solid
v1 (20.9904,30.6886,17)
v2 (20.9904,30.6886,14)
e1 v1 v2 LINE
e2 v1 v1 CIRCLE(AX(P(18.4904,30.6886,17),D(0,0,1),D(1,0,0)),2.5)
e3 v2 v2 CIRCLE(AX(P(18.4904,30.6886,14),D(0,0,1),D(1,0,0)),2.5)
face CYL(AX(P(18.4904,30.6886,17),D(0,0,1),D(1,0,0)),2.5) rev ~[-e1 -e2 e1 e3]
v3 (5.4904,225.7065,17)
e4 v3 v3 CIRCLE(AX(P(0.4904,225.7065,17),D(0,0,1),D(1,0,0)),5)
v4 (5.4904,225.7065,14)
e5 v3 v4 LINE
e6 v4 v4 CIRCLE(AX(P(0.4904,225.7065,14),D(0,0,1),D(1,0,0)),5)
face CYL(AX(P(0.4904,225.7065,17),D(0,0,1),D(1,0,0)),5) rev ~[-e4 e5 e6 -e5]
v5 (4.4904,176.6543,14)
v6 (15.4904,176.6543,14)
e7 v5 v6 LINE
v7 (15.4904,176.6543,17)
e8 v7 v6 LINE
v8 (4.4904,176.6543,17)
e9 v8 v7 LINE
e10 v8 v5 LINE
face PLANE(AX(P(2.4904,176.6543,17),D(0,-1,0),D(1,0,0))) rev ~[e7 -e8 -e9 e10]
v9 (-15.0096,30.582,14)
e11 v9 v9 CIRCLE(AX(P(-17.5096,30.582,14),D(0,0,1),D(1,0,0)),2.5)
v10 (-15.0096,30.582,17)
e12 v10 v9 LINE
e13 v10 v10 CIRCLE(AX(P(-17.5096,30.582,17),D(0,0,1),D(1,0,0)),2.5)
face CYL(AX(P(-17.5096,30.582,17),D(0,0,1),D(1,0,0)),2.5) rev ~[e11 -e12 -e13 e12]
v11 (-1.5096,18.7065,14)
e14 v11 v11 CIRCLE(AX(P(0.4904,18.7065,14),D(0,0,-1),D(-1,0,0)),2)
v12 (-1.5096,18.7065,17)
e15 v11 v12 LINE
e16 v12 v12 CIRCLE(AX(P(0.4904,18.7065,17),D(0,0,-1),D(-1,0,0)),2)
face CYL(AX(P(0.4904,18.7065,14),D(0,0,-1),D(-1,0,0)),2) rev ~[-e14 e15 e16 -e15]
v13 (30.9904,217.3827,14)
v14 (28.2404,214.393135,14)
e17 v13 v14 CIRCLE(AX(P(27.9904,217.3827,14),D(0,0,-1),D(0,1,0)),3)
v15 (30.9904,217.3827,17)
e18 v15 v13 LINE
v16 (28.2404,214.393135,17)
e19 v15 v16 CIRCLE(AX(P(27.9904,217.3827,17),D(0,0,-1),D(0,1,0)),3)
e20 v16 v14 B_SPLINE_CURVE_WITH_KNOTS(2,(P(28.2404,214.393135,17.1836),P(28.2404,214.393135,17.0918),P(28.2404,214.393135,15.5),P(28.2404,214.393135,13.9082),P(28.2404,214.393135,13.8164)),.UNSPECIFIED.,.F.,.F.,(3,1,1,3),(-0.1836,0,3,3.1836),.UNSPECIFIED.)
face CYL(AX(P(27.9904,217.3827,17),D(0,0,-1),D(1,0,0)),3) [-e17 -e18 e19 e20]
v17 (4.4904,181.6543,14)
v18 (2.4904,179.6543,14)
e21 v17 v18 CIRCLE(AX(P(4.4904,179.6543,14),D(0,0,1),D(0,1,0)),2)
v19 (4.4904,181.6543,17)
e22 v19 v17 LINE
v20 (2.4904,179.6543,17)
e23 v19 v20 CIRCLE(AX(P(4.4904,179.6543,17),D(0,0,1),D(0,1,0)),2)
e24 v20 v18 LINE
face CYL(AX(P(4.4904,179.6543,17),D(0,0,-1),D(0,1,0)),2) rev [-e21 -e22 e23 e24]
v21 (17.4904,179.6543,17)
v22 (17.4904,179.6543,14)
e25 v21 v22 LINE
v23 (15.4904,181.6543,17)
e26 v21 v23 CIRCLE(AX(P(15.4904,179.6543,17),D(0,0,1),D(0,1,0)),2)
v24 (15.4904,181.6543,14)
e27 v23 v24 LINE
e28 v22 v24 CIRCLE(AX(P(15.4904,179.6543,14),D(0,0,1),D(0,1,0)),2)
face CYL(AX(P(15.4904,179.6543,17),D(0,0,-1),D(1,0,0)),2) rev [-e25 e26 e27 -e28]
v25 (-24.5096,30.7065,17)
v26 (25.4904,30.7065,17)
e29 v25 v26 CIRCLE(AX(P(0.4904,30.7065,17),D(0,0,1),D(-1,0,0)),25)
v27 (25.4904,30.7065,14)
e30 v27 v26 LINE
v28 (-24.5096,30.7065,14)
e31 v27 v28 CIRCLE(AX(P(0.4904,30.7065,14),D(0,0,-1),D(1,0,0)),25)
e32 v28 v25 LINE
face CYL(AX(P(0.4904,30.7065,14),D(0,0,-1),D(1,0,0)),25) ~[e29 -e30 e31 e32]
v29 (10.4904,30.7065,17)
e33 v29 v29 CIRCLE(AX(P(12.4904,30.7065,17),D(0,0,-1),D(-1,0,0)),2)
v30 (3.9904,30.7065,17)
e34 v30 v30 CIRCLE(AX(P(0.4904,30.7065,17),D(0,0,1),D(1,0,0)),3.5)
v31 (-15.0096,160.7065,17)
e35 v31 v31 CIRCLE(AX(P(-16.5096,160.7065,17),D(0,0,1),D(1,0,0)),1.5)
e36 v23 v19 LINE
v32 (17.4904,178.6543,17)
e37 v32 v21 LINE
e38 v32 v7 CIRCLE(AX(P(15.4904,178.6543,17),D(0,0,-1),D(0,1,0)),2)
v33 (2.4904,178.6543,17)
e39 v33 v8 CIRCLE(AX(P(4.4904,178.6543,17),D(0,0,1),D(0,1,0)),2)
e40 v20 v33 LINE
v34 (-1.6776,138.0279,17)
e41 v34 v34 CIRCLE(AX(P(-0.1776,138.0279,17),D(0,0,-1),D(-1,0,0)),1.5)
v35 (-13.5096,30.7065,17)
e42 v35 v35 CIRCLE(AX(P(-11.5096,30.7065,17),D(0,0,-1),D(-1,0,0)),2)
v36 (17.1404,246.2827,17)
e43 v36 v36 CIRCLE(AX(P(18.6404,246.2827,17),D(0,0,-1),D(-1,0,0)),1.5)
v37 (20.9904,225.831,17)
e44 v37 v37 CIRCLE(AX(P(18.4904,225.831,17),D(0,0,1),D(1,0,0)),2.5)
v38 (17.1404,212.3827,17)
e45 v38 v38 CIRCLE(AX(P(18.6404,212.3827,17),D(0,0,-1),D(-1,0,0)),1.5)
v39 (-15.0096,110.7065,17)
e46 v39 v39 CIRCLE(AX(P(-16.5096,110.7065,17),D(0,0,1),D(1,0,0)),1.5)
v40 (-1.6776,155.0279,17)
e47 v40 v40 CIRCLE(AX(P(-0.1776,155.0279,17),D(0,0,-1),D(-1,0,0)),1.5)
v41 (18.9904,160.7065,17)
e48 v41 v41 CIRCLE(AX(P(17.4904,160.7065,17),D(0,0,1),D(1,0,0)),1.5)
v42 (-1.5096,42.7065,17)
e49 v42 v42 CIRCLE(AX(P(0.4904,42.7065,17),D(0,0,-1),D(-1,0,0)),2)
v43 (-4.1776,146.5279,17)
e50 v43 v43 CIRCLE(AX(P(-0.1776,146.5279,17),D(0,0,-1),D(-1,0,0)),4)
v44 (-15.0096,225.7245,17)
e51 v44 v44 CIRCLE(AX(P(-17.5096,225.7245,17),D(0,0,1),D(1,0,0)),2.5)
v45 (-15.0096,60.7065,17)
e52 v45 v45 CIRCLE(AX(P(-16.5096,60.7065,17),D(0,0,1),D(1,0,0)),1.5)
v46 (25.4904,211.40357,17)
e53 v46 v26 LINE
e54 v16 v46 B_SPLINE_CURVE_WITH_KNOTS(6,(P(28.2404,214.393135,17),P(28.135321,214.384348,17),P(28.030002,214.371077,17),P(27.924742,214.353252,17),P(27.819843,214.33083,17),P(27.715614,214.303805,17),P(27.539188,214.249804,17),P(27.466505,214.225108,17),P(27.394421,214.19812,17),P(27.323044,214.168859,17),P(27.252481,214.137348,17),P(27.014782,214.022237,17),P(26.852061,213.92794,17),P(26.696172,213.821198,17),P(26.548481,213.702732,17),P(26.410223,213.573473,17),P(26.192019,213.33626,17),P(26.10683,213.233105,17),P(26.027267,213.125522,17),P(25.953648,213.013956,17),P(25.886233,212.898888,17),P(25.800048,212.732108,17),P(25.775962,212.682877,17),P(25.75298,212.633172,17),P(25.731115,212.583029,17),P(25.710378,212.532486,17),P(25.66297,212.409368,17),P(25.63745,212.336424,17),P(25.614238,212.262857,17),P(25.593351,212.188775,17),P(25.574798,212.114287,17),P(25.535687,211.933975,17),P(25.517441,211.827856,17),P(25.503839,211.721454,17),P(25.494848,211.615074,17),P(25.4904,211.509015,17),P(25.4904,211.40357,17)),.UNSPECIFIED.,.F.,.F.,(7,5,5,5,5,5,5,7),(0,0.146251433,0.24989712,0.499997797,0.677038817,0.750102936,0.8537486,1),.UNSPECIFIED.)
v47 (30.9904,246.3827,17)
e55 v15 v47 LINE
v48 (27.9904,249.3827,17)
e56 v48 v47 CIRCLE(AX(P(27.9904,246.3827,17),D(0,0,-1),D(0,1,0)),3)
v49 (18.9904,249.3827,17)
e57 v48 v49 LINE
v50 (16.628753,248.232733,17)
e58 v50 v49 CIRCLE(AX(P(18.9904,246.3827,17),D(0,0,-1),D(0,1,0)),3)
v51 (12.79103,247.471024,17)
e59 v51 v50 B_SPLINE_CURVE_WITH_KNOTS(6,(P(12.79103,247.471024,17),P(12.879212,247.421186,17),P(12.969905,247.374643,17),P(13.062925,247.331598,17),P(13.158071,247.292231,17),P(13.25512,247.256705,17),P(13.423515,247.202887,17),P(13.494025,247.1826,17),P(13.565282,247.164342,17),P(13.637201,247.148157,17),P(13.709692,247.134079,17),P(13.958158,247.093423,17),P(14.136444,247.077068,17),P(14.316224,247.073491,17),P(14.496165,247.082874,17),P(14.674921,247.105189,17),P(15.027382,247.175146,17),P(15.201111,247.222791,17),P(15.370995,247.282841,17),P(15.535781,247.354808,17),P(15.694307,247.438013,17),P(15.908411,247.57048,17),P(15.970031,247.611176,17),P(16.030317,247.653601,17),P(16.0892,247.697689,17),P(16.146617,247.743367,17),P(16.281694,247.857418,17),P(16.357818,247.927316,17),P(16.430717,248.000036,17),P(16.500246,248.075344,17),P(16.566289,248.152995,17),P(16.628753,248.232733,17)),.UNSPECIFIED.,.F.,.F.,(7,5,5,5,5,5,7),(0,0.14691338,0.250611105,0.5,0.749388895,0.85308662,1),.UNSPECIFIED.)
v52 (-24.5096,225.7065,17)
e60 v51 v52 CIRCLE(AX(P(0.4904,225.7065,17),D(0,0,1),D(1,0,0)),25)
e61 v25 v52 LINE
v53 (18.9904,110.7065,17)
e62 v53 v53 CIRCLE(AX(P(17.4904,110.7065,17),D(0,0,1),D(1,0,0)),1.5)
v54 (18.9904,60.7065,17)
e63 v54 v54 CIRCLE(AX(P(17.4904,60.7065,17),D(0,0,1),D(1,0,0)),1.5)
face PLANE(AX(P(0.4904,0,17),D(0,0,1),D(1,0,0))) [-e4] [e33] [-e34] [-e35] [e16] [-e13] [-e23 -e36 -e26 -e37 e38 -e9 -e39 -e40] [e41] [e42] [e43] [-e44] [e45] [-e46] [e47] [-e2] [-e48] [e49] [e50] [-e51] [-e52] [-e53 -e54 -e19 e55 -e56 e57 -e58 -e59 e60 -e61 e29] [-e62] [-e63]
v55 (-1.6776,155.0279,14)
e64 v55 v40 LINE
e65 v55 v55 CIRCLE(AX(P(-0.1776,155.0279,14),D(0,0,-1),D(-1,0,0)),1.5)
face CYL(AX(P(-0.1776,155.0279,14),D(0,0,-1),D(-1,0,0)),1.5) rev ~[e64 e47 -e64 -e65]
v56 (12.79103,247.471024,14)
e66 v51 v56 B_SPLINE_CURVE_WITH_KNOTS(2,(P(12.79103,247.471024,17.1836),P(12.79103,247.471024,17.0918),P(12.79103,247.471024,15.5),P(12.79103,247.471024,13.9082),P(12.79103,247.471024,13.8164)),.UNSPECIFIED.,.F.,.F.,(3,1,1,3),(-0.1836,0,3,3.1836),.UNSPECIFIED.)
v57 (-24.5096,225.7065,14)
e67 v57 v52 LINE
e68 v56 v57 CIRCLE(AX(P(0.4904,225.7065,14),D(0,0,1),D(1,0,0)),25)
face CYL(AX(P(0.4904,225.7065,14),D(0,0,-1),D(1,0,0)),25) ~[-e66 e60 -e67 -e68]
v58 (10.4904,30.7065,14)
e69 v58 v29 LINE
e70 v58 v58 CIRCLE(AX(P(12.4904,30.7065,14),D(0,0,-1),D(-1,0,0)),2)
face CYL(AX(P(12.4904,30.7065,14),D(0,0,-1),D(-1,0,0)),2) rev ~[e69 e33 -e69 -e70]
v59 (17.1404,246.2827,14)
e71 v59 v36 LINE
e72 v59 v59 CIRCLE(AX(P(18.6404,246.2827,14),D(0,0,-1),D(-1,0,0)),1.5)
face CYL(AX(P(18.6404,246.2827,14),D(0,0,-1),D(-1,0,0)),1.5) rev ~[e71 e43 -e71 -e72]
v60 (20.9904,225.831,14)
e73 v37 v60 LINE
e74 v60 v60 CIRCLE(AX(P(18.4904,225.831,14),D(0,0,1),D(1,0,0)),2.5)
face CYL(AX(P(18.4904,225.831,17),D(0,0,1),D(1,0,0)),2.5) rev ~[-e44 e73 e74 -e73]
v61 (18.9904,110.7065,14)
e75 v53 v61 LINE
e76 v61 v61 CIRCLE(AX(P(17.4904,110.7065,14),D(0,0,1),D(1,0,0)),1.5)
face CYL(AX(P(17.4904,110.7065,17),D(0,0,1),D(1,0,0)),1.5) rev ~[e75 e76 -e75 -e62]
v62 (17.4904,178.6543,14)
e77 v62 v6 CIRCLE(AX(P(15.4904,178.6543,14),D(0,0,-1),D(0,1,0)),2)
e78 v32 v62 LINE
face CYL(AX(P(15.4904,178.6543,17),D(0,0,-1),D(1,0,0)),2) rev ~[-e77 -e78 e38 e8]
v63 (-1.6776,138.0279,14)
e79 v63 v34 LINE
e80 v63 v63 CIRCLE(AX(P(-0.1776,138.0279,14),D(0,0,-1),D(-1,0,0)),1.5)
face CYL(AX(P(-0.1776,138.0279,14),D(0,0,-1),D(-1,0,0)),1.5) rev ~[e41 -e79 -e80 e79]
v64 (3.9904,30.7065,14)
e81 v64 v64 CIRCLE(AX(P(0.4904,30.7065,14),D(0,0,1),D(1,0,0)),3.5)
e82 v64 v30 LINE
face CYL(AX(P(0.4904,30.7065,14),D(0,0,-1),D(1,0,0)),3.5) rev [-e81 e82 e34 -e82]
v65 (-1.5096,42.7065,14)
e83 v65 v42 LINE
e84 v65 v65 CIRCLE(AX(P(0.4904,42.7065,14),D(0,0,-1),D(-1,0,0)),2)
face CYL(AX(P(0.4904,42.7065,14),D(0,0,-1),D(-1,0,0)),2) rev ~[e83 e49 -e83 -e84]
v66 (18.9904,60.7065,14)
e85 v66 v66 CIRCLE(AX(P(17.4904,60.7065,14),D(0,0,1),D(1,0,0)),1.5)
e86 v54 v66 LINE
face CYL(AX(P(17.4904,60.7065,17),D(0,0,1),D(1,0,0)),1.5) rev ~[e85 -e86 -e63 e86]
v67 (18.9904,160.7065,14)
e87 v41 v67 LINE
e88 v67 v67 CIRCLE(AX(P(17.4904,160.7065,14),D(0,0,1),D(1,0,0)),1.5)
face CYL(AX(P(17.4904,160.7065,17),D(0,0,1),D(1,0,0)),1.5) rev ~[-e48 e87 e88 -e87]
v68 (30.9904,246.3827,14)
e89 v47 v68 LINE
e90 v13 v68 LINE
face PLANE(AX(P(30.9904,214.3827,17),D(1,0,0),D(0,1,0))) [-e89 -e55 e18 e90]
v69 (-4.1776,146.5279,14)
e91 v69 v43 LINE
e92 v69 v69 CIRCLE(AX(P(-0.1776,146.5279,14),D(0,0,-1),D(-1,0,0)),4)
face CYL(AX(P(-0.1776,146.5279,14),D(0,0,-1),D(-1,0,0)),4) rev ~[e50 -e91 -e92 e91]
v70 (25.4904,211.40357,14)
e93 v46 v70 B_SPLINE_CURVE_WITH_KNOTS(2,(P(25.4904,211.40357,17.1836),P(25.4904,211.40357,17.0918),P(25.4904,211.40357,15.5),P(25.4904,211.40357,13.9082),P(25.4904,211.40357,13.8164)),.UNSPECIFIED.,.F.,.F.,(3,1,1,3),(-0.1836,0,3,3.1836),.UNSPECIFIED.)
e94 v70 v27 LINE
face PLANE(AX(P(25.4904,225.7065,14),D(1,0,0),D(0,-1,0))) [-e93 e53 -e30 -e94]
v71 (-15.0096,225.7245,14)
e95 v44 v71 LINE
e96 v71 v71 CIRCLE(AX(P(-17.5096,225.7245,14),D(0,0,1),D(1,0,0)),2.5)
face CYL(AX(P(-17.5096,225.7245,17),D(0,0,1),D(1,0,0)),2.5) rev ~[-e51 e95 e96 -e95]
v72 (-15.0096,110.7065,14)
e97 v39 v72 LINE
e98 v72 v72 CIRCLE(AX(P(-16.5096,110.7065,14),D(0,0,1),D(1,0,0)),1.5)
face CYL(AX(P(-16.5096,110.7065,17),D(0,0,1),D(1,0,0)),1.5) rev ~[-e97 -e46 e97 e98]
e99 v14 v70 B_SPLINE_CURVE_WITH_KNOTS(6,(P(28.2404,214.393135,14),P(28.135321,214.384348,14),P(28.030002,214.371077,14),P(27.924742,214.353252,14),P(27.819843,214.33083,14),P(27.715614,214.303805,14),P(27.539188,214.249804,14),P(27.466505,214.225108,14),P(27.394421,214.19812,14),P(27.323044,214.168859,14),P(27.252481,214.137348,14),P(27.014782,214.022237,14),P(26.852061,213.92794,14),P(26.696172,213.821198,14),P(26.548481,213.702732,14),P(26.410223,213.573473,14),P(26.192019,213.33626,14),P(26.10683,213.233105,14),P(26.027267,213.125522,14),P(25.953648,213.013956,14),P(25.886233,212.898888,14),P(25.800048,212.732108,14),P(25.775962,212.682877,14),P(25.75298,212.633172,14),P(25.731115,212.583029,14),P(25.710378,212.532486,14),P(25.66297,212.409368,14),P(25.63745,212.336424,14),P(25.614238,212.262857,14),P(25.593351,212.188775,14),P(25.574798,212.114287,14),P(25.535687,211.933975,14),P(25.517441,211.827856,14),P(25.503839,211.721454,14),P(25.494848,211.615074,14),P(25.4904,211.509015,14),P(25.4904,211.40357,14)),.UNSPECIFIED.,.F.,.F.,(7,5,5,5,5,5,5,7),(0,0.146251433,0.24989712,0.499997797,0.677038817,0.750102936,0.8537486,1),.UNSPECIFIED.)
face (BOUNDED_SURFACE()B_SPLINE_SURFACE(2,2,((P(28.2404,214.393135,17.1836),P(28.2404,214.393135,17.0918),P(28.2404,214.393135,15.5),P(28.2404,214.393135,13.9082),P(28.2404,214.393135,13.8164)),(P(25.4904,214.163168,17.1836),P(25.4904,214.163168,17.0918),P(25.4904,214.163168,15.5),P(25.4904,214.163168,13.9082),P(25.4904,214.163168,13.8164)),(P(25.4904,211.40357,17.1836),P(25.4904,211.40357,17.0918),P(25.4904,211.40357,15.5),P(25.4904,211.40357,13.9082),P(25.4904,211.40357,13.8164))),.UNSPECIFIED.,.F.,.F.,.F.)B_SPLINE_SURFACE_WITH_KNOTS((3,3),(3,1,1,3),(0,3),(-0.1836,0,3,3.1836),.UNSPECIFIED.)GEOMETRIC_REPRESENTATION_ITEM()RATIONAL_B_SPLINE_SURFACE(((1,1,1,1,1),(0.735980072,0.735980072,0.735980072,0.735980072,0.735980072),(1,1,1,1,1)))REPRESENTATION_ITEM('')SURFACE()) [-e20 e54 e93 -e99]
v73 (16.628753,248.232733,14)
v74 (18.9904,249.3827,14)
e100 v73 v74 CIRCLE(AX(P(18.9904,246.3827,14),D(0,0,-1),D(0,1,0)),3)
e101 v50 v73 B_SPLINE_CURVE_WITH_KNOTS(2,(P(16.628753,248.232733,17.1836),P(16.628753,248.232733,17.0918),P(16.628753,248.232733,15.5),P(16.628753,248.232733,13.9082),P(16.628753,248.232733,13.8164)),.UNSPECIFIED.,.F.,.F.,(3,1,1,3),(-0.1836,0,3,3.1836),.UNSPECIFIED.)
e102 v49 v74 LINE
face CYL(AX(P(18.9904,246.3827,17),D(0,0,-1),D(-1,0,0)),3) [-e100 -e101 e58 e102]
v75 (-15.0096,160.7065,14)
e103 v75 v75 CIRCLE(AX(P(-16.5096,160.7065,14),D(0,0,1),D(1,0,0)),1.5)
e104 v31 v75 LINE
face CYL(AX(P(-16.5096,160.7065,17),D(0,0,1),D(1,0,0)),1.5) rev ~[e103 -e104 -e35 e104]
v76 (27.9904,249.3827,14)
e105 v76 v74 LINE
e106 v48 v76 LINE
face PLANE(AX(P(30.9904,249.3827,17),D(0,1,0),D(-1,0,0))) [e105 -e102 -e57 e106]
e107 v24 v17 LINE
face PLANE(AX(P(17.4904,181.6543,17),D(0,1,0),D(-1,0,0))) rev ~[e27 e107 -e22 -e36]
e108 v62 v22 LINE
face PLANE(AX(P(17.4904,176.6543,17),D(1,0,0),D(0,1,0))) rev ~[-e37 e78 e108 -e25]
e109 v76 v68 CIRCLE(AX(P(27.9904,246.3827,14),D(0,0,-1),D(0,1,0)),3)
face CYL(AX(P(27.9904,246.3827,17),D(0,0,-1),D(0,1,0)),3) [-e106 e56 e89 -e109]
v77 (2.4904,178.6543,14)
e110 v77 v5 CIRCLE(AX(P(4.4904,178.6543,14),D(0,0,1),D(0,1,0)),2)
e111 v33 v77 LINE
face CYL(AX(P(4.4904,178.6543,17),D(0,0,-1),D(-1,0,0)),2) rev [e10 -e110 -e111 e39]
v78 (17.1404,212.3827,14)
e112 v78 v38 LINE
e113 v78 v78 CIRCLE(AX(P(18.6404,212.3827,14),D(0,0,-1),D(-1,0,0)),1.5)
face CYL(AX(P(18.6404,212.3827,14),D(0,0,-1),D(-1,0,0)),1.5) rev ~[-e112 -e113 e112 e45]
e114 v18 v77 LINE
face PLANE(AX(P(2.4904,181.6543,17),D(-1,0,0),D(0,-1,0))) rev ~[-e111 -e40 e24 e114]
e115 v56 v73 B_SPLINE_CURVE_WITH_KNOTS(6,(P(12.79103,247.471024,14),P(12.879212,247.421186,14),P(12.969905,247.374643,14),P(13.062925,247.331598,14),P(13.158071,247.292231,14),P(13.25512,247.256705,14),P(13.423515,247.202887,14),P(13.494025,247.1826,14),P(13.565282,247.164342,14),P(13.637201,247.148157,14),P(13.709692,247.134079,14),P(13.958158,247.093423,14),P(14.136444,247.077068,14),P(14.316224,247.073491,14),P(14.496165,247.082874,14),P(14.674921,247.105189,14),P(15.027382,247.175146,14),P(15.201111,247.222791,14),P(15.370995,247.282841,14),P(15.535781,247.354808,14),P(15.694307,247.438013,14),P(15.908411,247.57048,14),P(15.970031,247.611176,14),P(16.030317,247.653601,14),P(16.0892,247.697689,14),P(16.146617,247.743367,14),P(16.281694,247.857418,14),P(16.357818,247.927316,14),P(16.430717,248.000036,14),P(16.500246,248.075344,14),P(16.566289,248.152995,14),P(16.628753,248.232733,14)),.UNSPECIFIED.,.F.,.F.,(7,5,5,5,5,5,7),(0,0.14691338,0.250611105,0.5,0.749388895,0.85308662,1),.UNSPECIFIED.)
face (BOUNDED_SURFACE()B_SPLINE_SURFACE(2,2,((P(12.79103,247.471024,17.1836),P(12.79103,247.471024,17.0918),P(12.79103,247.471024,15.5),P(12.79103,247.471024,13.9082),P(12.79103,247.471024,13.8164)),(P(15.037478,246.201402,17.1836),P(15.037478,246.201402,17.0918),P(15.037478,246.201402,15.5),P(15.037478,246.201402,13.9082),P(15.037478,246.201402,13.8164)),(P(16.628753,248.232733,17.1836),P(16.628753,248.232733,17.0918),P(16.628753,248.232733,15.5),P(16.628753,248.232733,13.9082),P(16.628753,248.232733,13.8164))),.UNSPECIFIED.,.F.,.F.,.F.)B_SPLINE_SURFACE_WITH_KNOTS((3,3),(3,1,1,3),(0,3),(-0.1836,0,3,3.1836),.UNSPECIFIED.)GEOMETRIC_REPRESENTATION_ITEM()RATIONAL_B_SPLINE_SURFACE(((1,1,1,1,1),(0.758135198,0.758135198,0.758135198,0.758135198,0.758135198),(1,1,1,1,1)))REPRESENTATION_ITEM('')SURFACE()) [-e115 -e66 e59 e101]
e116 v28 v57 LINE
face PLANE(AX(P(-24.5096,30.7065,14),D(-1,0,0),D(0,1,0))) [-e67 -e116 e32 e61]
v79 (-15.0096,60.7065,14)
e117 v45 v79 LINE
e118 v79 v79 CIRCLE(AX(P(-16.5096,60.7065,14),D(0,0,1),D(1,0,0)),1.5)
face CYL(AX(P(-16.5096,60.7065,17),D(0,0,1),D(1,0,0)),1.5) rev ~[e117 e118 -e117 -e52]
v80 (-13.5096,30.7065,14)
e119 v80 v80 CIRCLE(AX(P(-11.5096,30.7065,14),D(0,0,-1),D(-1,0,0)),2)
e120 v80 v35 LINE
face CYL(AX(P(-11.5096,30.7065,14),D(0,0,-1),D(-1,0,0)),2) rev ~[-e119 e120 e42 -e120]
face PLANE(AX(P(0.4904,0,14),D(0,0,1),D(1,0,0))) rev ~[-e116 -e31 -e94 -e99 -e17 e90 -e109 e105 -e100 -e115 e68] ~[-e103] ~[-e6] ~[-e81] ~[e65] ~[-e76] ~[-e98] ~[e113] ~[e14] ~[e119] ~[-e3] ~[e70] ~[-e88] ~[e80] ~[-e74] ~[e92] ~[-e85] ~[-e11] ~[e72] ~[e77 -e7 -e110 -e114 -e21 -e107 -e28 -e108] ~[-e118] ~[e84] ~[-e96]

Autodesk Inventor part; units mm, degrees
ref_plane "YZ Plane" through (0, 0, 0) normal (1, 0, 0) x (0, 1, 0)
ref_plane "XZ Plane" through (0, 0, 0) normal (0, 1, 0) x (-1, 0, 0)
ref_plane "XY Plane" through (0, 0, 0) normal (0, 0, 1) x (1, 0, 0)
ref_plane "Work Plane2" through (0.4904, 0, 14) normal (0, 0, 1) x (1, 0, 0)
sketch "Sketch1" plane through (0.4904, 0, 14) normal (0, 0, 1) x (1, 0, 0)
  line L0 (-25, 225.7065) -> (25, 225.7065)
  line L1 (25, 225.7065) -> (25, 5.7065)
  line L2 (25, 5.7065) -> (-25, 5.7065)
  line L3 (-25, 5.7065) -> (-25, 225.7065)
  line L4 (-25, 225.7065) -> (25, 225.7065)
  line L5 (20, 5.7065) -> (-20, 5.7065)
  circle A0 centre (0, 30.7065) radius 3.5 projected
  circle A1 centre (0, 30.7065) radius 25
  circle A2 centre (0, 225.7065) radius 25
  line L6 (-25, 30.7065) -> (-25, 225.7065)
  line L7 (25, 225.7065) -> (25, 30.7065)
  point P0 (-0.4904, 0)
  dimension "d19" = 50
  dimension "d6" = 220
  dimension "d7" = 0
  dimension "d9" = 50
  dimension "d10" = 25
  dimension "d11" = 25
  dimension "d12" = 25
  dimension "d13" = 0
extrude "Extrusion1" add sketch "Sketch1" along normal blind 3 contours A2 L0 | A2 L1 A1 L3 | L0 A2 | A1
sketch "Sketch2" plane through (0.4904, 0, 17) normal (0, 0, 1) x (1, 0, 0)
  arc A0 (25, 225.7065) -> (-25, 225.7065) centre (0, 225.7065) ccw projected
  circle A1 centre (0, 225.7065) radius 5
  point P0 (-0.4904, 0)
  dimension "d16" = 10
extrude "Extrusion2" cut sketch "Sketch2" against normal blind 3
sketch "Sketch4" plane through (0.4904, 0, 17) normal (0, 0, 1) x (1, 0, 0)
  arc A0 (20.4946, 25.2317) -> (20.5054, 36.1404) centre (18, 30.6886) ccw projected
  line L0 (20.5054, 36.1404) -> (10.4453, 40.7636) projected
  arc A1 (10.4252, 20.6286) -> (10.4453, 40.7636) centre (0, 30.7065) ccw projected
  line L1 (10.4252, 20.6286) -> (20.4946, 25.2317) projected
  circle A2 centre (18, 30.6886) radius 2.5 projected
  arc A3 (-20.5376, 36.019) -> (-20.4622, 25.1105) centre (-18, 30.582) ccw projected
  line L2 (-20.4622, 25.1105) -> (-11.0226, 20.8627) projected
  arc A4 (-11.1577, 40.3969) -> (-11.0226, 20.8627) centre (0, 30.7065) ccw projected
  line L3 (-11.1577, 40.3969) -> (-20.5376, 36.019) projected
  circle A5 centre (-18, 30.582) radius 2.5 projected
  point P0 (-0.4904, 0)
extrude "Extrusion4" cut sketch "Sketch4" against normal blind 10 contours A2 | A5
sketch "Sketch6" plane through (0.4904, 0, 14) normal (0, 0, -1) x (-1, 0, 0)
  circle A0 centre (0, 42.7065) radius 2 projected
  circle A1 centre (-12, 30.7065) radius 2 projected
  circle A2 centre (0, 18.7065) radius 2 projected
  circle A3 centre (12, 30.7065) radius 2 projected
  point P0 (0.4904, 0)
extrude "Extrusion6" cut sketch "Sketch6" against normal blind 10
sketch "Sketch7" plane through (0.4904, 0, 14) normal (0, 0, -1) x (-1, 0, 0)
  circle A0 centre (-12, 30.7065) radius 2 projected
  circle A1 centre (0, 18.7065) radius 2 projected
  circle A2 centre (12, 30.7065) radius 2 projected
  circle A3 centre (0, 42.7065) radius 2 projected
  circle A4 centre (-18, 30.6886) radius 2.5 projected
  circle A5 centre (18, 30.582) radius 2.5 projected
  circle A6 centre (0, 225.7065) radius 5 projected
  line L0 (25, 225.7065) -> (25, 30.7065) projected
  line L1 (-25, 30.7065) -> (-25, 225.7065) projected
  arc A7 (-25, 30.7065) -> (25, 30.7065) centre (0, 30.7065) ccw projected
  circle A8 centre (0, 30.7065) radius 3.5 projected
  circle A9 centre (0.668, 146.5279) radius 12.5 projected
  circle A10 centre (9.168, 146.5279) radius 2.3813 projected
  circle A11 centre (-7.832, 146.5279) radius 2.3813 projected
  circle A12 centre (0.668, 155.0279) radius 1.5 projected
  circle A13 centre (0.668, 138.0279) radius 1.5 projected
  circle A14 centre (0.668, 146.5279) radius 4
  arc A15 (25, 225.7065) -> (-25, 225.7065) centre (0, 225.7065) ccw projected
  point P0 (0.4904, 0)
  dimension "d60" = 8
extrude "Extrusion7" cut sketch "Sketch7" against normal blind 10 contours A12 | A13 | A14
sketch "Sketch10" plane through (0.4904, 0, 17) normal (0, 0, 1) x (1, 0, 0)
  line L0 (17, 181.6543) -> (2, 181.6543)
  line L1 (2, 181.6543) -> (2, 176.6543)
  line L2 (2, 176.6543) -> (17, 176.6543)
  line L3 (17, 176.6543) -> (17, 181.6543)
  line L4 (25, 30.7065) -> (25, 225.7065) projected
  point P0 (-0.4904, 0)
  dimension "d67" = 15
  dimension "d68" = 5
  dimension "d69" = 8
extrude "Extrusion10" cut sketch "Sketch10" against normal blind 10
fillet "Fillet1" radius 2 4 edges at (17.4904, 176.6543, 15.5) (17.4904, 181.6543, 15.5) (2.4904, 181.6543, 15.5) (2.4904, 176.6543, 15.5)
sketch "Sketch11" plane through (0.4904, 0, 17) normal (0, 0, 1) x (1, 0, 0)
  arc A0 (20.5376, 220.3941) -> (20.4622, 231.3026) centre (18, 225.831) ccw projected
  line L0 (20.4622, 231.3026) -> (11.0226, 235.5503) projected
  arc A1 (11.1577, 216.0162) -> (11.0226, 235.5503) centre (0, 225.7065) ccw projected
  line L1 (11.1577, 216.0162) -> (20.5376, 220.3941) projected
  circle A2 centre (18, 225.831) radius 2.5 projected
  arc A3 (-20.4946, 231.1813) -> (-20.5054, 220.2726) centre (-18, 225.7245) ccw projected
  line L2 (-20.5054, 220.2726) -> (-10.4453, 215.6494) projected
  arc A4 (-10.4252, 235.7844) -> (-10.4453, 215.6494) centre (0, 225.7065) ccw projected
  line L3 (-10.4252, 235.7844) -> (-20.4946, 231.1813) projected
  circle A5 centre (-18, 225.7245) radius 2.5 projected
  circle A6 centre (3.5, 208.0565) radius 1.5 projected
  circle A7 centre (3.5, 197.2565) radius 1.5 projected
  line L4 (15, 176.6543) -> (4, 176.6543) projected
  arc A8 (2, 178.6543) -> (4, 176.6543) centre (4, 178.6543) ccw projected
  line L5 (2, 178.6543) -> (2, 179.6543) projected
  arc A9 (4, 181.6543) -> (2, 179.6543) centre (4, 179.6543) ccw projected
  line L6 (4, 181.6543) -> (15, 181.6543) projected
  arc A10 (17, 179.6543) -> (15, 181.6543) centre (15, 179.6543) ccw projected
  line L7 (17, 179.6543) -> (17, 178.6543) projected
  arc A11 (15, 176.6543) -> (17, 178.6543) centre (15, 178.6543) ccw projected
  circle A12 centre (-0.668, 146.5279) radius 4 projected
  circle A13 centre (-0.668, 138.0279) radius 1.5 projected
  circle A14 centre (-0.668, 155.0279) radius 1.5 projected
  circle A15 centre (12, 30.7065) radius 2 projected
  circle A16 centre (0, 18.7065) radius 2 projected
  circle A17 centre (-12, 30.7065) radius 2 projected
  circle A18 centre (0, 42.7065) radius 2 projected
  circle A19 centre (18, 30.6886) radius 2.5 projected
  circle A20 centre (-18, 30.582) radius 2.5 projected
  circle A21 centre (0, 225.7065) radius 5 projected
  line L8 (-25, 225.7065) -> (-25, 30.7065) projected
  arc A22 (-25, 30.7065) -> (25, 30.7065) centre (0, 30.7065) ccw projected
  line L9 (25, 30.7065) -> (25, 225.7065) projected
  arc A23 (25, 225.7065) -> (-25, 225.7065) centre (0, 225.7065) ccw projected
  circle A24 centre (0, 30.7065) radius 3.5 projected
  circle A25 centre (18.3, 208.0565) radius 1.5 projected
  point P0 (-0.4904, 0)
extrude "Extrusion11" cut sketch "Sketch11" against normal blind 10 contours A2 | A5
sketch "Sketch12" plane through (0.4904, 0, 17) normal (0, 0, 1) x (1, 0, 0)
  circle A0 centre (17, 60.7065) radius 1.5
  circle A1 centre (-17, 60.7065) radius 1.5
  circle A2 centre (-17, 110.7065) radius 1.5
  circle A3 centre (17, 110.7065) radius 1.5
  circle A4 centre (-17, 160.7065) radius 1.5
  line L0 (-25, 225.7065) -> (-25, 30.7065) projected
  line L1 (25, 30.7065) -> (25, 225.7065) projected
  circle A5 centre (0, 30.7065) radius 3.5 projected
  circle A6 centre (17, 160.7065) radius 1.5
  point P0 (-0.4904, 0)
  dimension "d75" = 3
  dimension "d76" = 3
  dimension "d77" = 3
  dimension "d78" = 3
  dimension "d79" = 3
  dimension "d80" = 8
  dimension "d81" = 8
  dimension "d82" = 8
  dimension "d83" = 8
  dimension "d84" = 8
  dimension "d85" = 30
  dimension "d86" = 30
  dimension "d87" = 50
  dimension "d88" = 50
  dimension "d89" = 50
  dimension "d90" = 3
  dimension "d91" = 8
  dimension "d92" = 50
extrude "Extrusion12" cut sketch "Sketch12" against normal blind 10 contours A0 | A1 | A2 | A3 | A4 | A6
sketch "Sketch13" plane through (0.4904, 0, 17) normal (0, 0, 1) x (1, 0, 0)
  line L0 (15.5, 214.3827) -> (30.5, 214.3827)
  line L1 (30.5, 214.3827) -> (30.5, 249.3827)
  line L2 (30.5, 249.3827) -> (15.5, 249.3827)
  line L3 (15.5, 249.3827) -> (15.5, 214.3827)
  circle A0 centre (18, 225.831) radius 2.5 projected
  point P0 (-0.4904, 0)
  point P1 (15.5, 225.831)
  dimension "d95" = 15
  dimension "d96" = 35
extrude "Extrusion13" add sketch "Sketch13" against normal blind 3
sketch "Sketch14" plane through (0.4904, 0, 14) normal (0, 0, -1) x (-1, 0, 0)
  circle A0 centre (-18.15, 246.2827) radius 1.5 projected
  circle A1 centre (-18.15, 212.3827) radius 1.5 projected
  circle A2 centre (-28.95, 212.3827) radius 1.5 projected
  point P0 (0.4904, 0)
extrude "Extrusion14" cut sketch "Sketch14" against normal blind 3 contours A0 | A1
fillet "Fillet2" radius 3 5 edges at (15.9904, 245.3216, 15.5) (15.9904, 249.3827, 15.5) (30.9904, 249.3827, 15.5) (30.9904, 214.3827, 15.5) (25.4904, 214.3827, 15.5)
properties part number "Link2Base"
